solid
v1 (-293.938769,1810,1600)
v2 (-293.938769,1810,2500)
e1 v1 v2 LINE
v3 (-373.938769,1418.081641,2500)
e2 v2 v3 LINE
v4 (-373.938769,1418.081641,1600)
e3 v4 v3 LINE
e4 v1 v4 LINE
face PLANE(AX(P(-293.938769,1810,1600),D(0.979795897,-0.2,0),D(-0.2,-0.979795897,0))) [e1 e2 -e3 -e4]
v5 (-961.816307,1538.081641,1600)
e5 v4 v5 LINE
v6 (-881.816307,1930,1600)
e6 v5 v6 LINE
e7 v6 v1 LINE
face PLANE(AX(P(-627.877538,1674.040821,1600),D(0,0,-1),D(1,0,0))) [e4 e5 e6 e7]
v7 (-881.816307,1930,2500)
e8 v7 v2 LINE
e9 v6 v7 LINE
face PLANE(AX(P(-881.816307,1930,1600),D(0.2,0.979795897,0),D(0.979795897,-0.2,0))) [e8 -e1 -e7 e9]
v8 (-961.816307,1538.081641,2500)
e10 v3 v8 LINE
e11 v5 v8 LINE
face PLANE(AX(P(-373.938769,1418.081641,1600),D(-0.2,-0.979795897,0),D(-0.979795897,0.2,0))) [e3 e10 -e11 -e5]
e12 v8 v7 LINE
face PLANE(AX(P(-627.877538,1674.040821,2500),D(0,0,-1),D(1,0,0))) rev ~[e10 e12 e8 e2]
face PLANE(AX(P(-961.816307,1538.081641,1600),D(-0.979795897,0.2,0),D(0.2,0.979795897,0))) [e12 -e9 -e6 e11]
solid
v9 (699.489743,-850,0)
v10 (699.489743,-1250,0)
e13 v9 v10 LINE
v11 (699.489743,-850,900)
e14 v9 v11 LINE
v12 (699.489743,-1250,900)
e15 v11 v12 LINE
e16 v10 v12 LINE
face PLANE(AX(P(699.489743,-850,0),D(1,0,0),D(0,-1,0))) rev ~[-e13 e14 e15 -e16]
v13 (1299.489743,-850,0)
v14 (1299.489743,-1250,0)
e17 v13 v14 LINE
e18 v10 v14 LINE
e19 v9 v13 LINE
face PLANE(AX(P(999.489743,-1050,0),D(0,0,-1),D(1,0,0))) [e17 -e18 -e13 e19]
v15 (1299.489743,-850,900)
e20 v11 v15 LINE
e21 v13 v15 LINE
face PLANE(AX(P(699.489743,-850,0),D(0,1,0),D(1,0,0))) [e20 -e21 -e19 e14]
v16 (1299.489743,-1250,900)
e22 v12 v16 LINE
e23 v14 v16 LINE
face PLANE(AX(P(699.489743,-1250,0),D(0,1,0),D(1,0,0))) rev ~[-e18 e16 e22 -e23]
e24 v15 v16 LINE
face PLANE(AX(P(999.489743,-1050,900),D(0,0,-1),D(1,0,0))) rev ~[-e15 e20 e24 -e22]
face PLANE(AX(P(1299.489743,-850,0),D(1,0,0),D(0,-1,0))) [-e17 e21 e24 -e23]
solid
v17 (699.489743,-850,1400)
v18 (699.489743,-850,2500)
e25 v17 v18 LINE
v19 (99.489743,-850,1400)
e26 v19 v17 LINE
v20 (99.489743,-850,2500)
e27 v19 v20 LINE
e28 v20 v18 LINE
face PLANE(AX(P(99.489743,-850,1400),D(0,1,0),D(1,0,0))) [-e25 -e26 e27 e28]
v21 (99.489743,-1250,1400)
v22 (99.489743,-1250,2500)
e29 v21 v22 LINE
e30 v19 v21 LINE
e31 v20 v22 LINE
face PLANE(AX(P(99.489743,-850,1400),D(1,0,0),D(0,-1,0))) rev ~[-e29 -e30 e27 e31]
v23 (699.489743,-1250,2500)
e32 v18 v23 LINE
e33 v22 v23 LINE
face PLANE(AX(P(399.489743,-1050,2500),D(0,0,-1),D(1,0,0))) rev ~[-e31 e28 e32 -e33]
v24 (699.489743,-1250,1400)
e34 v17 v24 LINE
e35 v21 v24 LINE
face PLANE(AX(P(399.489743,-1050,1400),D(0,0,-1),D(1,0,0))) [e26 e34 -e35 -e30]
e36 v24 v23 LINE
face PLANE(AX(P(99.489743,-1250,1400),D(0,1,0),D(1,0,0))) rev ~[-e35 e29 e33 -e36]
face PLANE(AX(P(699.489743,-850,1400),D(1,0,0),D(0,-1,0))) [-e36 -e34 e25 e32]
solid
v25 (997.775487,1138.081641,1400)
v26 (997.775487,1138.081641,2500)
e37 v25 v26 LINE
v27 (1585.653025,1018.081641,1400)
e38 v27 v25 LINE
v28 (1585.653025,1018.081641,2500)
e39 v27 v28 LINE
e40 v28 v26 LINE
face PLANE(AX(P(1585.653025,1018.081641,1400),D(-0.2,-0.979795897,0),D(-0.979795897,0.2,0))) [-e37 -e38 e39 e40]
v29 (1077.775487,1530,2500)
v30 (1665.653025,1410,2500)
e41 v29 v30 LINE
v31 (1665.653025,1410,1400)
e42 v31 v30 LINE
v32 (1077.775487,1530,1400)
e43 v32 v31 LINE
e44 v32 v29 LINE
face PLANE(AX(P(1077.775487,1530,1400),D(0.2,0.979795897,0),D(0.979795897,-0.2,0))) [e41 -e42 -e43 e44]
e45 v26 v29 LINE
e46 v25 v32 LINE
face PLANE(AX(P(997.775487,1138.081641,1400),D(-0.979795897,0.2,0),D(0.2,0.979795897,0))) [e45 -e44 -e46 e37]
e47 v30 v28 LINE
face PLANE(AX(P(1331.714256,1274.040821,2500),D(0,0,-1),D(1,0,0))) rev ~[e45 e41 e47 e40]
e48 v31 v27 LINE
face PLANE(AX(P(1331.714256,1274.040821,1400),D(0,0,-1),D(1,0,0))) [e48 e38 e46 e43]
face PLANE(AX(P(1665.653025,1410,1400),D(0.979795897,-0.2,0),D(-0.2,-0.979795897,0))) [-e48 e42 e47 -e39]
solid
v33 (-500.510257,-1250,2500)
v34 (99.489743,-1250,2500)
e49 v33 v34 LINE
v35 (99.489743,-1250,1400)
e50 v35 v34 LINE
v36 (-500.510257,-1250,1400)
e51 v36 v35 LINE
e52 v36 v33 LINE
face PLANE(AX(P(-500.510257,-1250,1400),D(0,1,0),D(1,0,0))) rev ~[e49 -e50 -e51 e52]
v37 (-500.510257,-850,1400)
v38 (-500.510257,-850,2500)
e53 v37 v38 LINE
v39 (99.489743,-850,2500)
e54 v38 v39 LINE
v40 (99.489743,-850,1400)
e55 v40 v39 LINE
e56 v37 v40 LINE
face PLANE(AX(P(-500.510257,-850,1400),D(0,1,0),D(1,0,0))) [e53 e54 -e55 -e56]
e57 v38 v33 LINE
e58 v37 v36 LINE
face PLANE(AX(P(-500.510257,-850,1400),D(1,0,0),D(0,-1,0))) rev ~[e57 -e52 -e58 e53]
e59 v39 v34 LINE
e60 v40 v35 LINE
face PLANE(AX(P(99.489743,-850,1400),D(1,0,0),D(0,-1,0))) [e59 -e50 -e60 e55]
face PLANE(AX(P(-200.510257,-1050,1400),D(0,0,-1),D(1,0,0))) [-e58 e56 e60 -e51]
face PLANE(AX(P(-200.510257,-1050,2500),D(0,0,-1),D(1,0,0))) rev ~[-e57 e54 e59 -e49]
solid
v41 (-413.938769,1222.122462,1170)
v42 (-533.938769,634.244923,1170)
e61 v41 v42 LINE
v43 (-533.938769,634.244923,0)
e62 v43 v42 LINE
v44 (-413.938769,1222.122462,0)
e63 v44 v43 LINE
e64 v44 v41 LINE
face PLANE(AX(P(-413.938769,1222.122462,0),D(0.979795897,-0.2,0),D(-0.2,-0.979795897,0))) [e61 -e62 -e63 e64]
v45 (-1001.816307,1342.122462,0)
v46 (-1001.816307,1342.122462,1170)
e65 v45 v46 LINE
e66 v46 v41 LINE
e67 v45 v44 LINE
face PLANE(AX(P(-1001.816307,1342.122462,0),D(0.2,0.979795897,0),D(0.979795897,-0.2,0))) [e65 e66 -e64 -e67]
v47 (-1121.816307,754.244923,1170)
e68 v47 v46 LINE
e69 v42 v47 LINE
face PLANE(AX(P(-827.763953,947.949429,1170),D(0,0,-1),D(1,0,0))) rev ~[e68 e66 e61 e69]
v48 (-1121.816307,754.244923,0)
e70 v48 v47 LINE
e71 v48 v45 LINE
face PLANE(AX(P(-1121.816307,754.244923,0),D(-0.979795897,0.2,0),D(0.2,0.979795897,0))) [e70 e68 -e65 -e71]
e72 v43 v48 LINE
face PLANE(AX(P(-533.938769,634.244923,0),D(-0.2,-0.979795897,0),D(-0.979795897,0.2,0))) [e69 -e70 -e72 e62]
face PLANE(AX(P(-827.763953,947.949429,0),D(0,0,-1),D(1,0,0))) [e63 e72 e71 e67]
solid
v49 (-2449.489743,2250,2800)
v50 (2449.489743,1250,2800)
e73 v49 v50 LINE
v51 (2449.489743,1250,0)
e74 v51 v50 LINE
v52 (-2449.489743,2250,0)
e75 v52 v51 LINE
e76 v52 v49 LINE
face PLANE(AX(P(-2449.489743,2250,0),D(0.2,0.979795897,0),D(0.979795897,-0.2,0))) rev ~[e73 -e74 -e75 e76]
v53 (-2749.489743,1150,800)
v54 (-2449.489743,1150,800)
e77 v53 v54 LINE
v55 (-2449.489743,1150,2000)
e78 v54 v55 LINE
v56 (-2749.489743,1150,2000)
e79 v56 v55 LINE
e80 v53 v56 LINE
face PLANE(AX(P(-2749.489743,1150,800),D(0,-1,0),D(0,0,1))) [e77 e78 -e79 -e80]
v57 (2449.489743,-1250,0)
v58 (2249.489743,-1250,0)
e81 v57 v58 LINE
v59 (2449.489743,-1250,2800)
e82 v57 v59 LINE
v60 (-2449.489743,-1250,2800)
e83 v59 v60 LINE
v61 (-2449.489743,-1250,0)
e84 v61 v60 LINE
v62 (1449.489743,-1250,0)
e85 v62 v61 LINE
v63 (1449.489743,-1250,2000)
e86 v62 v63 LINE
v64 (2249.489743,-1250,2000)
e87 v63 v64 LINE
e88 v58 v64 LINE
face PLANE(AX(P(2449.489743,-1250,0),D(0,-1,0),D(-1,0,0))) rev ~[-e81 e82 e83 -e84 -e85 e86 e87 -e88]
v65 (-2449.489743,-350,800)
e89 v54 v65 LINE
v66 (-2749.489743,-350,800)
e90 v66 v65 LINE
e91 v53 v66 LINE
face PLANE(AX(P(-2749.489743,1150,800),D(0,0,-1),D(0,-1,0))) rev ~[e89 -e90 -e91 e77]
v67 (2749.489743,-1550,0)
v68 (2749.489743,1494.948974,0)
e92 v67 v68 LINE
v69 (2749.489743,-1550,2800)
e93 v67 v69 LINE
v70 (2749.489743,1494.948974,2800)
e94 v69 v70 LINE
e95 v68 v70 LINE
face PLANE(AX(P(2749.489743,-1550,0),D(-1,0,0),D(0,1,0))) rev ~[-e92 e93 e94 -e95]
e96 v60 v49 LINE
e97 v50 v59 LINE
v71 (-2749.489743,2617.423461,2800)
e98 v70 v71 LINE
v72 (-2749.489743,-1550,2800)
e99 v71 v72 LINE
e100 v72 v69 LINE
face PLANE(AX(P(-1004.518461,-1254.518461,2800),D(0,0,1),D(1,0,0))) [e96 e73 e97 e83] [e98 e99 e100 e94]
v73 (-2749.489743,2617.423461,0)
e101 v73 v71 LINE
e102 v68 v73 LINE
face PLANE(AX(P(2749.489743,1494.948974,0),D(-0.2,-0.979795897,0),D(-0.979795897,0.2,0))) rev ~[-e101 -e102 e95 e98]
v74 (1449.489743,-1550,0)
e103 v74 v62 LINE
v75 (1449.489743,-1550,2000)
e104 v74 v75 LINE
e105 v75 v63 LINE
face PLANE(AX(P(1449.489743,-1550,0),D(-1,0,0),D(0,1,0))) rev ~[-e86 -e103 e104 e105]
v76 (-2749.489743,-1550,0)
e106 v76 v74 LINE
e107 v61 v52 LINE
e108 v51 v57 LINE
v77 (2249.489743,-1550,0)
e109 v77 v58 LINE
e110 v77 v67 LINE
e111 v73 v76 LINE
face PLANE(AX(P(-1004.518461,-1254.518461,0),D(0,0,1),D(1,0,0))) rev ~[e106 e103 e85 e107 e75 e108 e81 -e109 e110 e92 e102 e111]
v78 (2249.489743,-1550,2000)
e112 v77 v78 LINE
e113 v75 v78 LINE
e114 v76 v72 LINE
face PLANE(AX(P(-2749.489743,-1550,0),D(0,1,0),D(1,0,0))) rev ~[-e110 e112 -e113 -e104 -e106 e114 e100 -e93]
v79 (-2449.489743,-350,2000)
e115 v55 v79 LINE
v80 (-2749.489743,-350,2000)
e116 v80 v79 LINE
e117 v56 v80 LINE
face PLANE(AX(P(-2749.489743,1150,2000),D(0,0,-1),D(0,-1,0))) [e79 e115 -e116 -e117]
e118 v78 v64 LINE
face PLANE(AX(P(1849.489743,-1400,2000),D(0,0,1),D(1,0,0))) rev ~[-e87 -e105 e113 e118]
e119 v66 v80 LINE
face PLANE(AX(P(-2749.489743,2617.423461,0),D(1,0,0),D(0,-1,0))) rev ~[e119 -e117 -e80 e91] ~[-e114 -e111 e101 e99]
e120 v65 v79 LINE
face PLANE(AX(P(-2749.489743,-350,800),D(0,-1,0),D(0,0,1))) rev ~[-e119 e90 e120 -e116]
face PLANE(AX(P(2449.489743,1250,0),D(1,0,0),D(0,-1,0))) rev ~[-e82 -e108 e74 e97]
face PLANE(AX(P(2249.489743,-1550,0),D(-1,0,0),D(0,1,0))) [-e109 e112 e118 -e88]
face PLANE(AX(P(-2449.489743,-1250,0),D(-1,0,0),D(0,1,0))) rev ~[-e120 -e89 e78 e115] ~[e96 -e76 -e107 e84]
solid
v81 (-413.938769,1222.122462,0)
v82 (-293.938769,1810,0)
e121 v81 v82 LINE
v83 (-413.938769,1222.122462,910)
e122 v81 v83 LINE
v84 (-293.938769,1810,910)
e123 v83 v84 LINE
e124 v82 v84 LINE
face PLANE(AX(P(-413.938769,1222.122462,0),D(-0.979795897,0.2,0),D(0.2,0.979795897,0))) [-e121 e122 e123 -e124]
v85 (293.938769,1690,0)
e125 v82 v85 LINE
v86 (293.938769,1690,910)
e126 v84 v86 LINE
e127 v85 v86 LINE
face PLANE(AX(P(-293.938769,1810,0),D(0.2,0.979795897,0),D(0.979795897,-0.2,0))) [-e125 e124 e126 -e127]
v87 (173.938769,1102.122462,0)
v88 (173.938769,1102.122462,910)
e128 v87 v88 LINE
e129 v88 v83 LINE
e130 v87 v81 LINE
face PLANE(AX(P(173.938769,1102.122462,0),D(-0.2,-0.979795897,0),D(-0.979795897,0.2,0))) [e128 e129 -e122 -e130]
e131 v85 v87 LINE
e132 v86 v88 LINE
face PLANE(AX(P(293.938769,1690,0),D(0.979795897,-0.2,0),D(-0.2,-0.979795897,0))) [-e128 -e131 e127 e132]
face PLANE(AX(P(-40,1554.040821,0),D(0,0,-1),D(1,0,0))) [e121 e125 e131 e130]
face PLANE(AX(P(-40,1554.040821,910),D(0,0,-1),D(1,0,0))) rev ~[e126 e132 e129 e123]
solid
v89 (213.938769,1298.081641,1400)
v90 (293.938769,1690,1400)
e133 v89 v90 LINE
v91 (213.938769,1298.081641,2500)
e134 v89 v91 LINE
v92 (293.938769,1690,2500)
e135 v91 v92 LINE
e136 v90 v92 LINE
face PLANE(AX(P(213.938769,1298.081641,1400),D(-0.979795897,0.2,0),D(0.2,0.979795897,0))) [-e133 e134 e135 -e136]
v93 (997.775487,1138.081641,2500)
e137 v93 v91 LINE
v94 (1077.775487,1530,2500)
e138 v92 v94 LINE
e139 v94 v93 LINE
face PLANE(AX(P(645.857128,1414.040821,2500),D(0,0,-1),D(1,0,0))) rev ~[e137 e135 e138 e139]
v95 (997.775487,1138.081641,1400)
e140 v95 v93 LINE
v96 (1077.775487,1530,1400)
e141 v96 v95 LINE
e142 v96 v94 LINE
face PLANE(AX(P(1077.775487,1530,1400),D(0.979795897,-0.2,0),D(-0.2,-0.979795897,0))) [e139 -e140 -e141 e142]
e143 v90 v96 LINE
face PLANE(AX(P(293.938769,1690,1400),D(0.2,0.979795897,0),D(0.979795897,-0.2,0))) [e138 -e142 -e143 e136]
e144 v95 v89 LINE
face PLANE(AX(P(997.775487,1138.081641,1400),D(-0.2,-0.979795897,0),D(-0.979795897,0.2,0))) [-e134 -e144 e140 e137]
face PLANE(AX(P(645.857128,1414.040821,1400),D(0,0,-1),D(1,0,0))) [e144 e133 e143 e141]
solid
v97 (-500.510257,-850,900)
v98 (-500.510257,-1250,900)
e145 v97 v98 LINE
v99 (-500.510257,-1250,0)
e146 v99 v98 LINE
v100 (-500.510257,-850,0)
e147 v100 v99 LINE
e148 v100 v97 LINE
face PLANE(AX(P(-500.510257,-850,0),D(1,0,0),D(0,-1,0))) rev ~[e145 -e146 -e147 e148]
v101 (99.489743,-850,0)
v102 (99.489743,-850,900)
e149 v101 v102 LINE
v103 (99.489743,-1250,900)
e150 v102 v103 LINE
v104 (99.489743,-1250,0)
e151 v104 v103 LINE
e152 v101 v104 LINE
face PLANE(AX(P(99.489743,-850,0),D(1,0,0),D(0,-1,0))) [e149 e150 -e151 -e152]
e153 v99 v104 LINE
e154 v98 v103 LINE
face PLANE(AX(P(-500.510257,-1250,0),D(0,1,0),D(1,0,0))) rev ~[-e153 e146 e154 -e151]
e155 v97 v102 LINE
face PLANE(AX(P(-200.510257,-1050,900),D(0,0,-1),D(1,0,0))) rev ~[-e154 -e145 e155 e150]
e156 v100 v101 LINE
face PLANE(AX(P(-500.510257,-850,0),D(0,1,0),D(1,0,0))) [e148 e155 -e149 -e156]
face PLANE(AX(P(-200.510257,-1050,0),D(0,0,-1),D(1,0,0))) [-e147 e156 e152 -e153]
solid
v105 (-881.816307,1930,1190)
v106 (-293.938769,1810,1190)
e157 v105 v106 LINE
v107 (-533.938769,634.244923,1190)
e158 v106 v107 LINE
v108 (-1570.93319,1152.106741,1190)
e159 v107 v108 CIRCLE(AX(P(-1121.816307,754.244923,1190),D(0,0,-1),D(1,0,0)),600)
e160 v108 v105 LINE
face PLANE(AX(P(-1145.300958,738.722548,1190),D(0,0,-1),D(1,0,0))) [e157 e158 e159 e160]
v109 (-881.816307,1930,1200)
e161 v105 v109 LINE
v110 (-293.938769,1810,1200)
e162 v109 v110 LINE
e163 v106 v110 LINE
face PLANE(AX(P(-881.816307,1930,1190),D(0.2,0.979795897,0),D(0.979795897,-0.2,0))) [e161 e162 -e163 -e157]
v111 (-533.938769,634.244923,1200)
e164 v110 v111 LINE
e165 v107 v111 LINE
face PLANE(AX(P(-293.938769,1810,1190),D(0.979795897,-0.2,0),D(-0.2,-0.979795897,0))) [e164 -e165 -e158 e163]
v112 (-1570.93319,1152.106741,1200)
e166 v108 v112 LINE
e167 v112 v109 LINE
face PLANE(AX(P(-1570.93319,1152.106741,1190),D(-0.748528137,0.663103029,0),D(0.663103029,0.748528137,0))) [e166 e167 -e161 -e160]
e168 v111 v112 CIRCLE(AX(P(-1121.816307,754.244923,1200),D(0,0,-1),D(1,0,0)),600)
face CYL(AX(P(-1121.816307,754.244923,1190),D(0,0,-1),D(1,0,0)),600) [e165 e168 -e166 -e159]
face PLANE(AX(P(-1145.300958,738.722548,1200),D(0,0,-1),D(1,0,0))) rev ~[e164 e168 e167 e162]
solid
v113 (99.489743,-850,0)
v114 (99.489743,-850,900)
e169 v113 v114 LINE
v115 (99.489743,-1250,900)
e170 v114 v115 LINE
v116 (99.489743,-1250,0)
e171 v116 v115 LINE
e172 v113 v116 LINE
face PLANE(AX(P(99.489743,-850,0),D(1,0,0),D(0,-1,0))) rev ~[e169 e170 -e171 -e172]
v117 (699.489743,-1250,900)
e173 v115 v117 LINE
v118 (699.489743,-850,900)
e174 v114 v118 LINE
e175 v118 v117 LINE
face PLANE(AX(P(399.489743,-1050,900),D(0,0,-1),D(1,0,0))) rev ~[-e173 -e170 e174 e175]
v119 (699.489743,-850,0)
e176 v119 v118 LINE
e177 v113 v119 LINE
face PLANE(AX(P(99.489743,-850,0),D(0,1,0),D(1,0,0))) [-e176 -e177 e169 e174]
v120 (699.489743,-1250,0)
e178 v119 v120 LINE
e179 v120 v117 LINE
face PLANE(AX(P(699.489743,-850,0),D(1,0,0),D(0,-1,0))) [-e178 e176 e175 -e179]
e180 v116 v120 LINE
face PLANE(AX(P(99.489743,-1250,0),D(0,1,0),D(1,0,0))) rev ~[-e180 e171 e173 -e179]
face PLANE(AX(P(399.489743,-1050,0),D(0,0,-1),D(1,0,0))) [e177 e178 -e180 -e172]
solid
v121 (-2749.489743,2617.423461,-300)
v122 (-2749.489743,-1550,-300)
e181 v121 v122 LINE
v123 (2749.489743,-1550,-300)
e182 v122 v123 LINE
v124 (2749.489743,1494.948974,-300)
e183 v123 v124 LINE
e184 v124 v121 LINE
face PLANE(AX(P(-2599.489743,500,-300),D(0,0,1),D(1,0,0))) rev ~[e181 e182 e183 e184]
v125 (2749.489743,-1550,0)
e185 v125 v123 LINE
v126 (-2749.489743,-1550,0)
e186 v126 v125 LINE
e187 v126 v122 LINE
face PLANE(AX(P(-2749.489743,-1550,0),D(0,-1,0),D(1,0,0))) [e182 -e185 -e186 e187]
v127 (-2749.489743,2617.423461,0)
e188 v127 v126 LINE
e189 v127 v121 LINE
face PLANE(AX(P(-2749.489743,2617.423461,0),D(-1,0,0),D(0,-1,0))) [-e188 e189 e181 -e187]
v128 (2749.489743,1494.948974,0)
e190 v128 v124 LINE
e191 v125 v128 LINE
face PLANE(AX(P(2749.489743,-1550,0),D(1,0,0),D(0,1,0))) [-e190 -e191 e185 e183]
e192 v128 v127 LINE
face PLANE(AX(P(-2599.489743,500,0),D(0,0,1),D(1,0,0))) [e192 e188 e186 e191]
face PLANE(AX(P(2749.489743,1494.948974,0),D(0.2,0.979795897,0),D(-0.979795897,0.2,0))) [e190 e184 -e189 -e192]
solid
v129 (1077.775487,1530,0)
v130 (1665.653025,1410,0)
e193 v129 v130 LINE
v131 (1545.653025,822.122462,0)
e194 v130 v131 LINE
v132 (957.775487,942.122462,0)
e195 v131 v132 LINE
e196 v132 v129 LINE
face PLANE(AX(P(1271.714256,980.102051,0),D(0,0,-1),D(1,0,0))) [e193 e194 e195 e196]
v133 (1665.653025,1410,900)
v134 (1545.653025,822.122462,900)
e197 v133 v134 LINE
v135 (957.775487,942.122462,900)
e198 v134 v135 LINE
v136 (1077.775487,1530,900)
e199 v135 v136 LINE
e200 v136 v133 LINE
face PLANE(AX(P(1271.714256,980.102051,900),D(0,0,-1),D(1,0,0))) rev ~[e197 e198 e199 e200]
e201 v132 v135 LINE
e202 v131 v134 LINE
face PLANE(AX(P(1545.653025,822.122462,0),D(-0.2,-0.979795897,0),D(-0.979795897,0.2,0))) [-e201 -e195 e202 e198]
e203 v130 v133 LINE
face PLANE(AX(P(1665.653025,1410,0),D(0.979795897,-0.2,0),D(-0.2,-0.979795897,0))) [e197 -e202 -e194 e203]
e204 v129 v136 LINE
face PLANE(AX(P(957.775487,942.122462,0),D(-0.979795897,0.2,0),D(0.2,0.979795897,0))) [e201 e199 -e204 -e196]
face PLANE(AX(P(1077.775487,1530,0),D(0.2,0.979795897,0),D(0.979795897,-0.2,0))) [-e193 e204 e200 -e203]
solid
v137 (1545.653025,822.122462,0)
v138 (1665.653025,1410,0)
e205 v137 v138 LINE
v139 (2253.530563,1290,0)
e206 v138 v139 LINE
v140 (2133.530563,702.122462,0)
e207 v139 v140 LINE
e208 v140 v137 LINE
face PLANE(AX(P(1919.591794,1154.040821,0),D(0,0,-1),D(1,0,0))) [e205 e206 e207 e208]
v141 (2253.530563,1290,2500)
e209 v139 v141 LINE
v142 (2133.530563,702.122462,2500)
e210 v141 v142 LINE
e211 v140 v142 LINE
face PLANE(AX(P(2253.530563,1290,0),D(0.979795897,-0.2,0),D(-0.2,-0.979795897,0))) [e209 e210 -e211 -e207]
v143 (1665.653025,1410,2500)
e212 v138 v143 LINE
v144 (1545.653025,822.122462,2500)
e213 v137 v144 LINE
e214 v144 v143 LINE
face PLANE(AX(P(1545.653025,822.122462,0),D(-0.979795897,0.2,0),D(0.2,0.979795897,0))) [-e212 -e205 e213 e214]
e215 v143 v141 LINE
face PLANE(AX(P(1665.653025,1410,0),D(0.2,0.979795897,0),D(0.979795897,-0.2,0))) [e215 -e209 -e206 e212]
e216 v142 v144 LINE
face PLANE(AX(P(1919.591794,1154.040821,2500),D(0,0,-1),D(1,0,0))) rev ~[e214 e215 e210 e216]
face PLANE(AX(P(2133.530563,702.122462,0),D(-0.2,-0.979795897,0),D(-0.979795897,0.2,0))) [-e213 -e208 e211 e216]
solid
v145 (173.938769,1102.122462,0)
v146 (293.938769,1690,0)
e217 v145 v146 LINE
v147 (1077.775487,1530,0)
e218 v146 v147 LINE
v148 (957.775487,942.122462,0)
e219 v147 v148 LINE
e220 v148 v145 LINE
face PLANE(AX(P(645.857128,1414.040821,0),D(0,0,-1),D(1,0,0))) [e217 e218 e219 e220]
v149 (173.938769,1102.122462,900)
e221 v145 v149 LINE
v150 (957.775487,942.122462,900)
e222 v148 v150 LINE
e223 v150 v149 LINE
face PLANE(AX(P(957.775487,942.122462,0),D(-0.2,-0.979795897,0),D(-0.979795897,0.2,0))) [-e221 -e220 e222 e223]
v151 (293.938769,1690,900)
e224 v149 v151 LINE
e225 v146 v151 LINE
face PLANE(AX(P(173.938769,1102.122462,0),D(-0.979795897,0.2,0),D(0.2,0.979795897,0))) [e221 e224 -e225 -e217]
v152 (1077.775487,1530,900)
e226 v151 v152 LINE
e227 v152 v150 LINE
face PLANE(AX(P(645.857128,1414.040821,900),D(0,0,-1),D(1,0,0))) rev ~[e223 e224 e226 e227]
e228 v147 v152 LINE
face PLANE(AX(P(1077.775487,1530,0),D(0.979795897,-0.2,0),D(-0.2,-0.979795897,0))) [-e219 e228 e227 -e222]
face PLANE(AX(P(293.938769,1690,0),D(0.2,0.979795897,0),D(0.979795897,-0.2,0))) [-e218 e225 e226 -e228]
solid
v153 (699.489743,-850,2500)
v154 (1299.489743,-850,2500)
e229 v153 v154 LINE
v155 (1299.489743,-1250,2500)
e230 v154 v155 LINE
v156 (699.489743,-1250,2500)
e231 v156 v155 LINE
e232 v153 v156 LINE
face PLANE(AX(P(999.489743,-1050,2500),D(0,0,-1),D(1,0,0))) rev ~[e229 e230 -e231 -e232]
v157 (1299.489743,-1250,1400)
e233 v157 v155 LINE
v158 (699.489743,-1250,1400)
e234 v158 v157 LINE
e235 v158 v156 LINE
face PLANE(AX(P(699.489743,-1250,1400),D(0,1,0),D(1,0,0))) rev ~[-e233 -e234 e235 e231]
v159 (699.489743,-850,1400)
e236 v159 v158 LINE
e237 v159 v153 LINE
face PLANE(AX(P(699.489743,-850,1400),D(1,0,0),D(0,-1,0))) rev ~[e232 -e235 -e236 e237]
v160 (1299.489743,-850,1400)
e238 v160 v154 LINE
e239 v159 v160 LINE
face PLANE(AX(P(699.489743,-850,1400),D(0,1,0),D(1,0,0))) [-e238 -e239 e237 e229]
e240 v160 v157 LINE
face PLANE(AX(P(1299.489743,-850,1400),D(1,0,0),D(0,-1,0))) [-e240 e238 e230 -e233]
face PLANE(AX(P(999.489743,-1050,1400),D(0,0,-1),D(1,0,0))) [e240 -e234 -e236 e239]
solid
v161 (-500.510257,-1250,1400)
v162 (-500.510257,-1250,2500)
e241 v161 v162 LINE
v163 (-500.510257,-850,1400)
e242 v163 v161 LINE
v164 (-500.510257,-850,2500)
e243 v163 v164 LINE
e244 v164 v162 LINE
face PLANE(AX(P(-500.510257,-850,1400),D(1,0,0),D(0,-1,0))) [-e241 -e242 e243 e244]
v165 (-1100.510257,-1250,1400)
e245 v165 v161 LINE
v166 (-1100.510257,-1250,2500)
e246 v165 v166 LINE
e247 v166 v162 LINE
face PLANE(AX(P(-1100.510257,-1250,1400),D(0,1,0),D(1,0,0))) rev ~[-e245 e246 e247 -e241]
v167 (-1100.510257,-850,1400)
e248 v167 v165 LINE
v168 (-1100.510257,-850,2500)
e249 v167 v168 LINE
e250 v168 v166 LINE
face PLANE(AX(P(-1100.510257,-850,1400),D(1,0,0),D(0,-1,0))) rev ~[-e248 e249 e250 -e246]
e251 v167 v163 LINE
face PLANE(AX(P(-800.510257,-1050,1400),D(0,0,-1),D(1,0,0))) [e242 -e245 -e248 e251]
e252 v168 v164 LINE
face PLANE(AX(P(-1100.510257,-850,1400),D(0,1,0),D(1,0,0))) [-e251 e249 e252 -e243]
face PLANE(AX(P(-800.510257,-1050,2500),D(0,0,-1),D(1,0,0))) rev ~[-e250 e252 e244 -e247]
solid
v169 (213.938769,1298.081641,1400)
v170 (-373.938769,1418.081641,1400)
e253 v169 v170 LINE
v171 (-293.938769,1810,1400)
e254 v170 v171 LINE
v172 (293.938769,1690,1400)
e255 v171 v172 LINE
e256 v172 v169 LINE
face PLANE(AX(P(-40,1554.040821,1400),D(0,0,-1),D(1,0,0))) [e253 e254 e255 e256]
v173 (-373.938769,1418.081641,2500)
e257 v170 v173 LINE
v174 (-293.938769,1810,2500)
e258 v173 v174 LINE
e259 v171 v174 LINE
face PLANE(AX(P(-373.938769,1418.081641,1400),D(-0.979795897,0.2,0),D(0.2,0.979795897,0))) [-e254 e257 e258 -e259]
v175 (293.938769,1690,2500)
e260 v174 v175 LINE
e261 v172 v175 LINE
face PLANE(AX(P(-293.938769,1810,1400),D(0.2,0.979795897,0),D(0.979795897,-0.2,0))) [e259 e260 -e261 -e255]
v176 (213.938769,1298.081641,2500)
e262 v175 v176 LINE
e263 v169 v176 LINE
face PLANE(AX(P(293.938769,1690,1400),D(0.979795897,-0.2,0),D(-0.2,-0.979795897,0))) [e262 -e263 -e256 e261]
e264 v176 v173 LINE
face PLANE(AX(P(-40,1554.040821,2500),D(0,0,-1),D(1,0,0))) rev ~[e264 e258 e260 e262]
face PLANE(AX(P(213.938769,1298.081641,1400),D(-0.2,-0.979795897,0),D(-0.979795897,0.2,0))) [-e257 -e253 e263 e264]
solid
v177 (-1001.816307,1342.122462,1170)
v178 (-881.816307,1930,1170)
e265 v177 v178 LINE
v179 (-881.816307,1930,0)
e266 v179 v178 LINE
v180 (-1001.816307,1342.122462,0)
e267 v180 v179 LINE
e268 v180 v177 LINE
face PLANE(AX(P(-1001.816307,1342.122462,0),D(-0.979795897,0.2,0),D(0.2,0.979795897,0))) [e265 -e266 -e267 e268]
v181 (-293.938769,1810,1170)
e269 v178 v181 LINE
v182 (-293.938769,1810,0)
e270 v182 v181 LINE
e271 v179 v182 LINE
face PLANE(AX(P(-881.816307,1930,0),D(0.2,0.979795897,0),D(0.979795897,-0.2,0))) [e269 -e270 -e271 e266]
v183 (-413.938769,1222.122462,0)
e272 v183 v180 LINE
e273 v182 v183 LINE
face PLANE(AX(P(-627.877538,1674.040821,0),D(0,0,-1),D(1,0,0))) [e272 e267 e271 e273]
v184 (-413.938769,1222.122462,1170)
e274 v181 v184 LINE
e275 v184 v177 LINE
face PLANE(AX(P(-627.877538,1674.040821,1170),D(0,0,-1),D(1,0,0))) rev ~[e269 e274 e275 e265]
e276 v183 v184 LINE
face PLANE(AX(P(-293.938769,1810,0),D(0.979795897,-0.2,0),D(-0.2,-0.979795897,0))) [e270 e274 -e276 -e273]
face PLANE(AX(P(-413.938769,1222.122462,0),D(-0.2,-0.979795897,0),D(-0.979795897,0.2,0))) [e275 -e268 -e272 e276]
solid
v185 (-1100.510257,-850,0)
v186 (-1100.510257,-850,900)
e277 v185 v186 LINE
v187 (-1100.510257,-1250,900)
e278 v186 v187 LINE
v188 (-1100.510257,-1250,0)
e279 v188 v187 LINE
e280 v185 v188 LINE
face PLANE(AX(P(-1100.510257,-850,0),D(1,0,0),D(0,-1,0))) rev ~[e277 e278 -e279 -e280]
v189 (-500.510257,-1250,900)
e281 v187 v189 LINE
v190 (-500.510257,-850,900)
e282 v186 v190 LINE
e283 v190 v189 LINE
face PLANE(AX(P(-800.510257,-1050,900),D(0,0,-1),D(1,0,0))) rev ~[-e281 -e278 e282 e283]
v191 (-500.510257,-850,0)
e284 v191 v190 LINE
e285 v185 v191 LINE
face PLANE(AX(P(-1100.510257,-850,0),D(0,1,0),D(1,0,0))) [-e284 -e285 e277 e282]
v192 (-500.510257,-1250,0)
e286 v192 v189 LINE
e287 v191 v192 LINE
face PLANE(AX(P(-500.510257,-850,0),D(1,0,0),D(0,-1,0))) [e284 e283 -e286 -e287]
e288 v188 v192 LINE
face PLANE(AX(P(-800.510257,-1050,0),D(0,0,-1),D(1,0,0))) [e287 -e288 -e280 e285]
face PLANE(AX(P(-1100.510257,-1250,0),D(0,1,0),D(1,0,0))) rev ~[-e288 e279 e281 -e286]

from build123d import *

# Parameters (mm, degrees)
F0_W      = 300
F0_H      = 1500
F0_W_2    = 800
F0_H_2    = 300
F1_DEPTH  = 300
F2_DEPTH  = 2800
F3_DEPTH  = 2000
F4_W      = 1500
F4_H      = 1200
F5_DEPTH  = 300
F7_DEPTH  = 2500
F8_DEPTH  = 1170
F6_W      = 600
F6_H      = 400
F9_DEPTH  = 900
F10_DEPTH = 900
F11_DEPTH = 900
F12_DEPTH = 900
F13_START = -1400
F13_DEPTH = 1100
F14_START = -1400
F14_DEPTH = 1100
F15_START = -1400
F15_DEPTH = 1100
F16_START = -1400
F16_DEPTH = 1100
F17_DEPTH = 900
F18_DEPTH = 900
F19_DEPTH = 910
F20_DEPTH = 1170
F21_START = -1190
F21_DEPTH = 10
F22_START = -1400
F22_DEPTH = 1100
F23_START = -1400
F23_DEPTH = 1100
F24_START = -1400
F24_DEPTH = 1100
F25_START = -1600
F25_DEPTH = 900


with BuildPart() as f1:
    # F0 (on Top) → F1 (new body)
    with BuildSketch(Plane.XY):
        with Locations((-2599.4897427832, 500)):
            Rectangle(F0_W, F0_H)
        Polygon((-2449.4897427832, -250), (-2449.4897427832, -1250), (1449.4897427832, -1250), (2249.4897427832, -1250), (2449.4897427832, -1250), (2449.4897427832, 1250), (-2449.4897427832, 2250), (-2449.4897427832, 1250), align=None)
        Polygon((2449.4897427832, -1250), (2249.4897427832, -1250), (2249.4897427832, -1550), (2749.4897427832, -1550), (2749.4897427832, 1494.9489742783), (-2749.4897427832, 2617.4234614175), (-2749.4897427832, 1250), (-2449.4897427832, 1250), (-2449.4897427832, 2250), (2449.4897427832, 1250), align=None)
        with Locations((1849.4897427832, -1400)):
            Rectangle(F0_W_2, F0_H_2)
        Polygon((1449.4897427832, -1250), (-2449.4897427832, -1250), (-2449.4897427832, -250), (-2749.4897427832, -250), (-2749.4897427832, -1550), (1449.4897427832, -1550), align=None)
    extrude(amount=-F1_DEPTH)


with BuildPart() as f2:
    # F0 (on Top) → F2 (new body)
    with BuildSketch(Plane.XY):
        Polygon((1449.4897427832, -1250), (-2449.4897427832, -1250), (-2449.4897427832, -250), (-2749.4897427832, -250), (-2749.4897427832, -1550), (1449.4897427832, -1550), align=None)
        with Locations((-2599.4897427832, 500)):
            Rectangle(F0_W, F0_H)
        Polygon((2449.4897427832, -1250), (2249.4897427832, -1250), (2249.4897427832, -1550), (2749.4897427832, -1550), (2749.4897427832, 1494.9489742783), (-2749.4897427832, 2617.4234614175), (-2749.4897427832, 1250), (-2449.4897427832, 1250), (-2449.4897427832, 2250), (2449.4897427832, 1250), align=None)
        with Locations((1849.4897427832, -1400)):
            Rectangle(F0_W_2, F0_H_2)
    extrude(amount=F2_DEPTH)

    # F0 (on Top) → F3 (cut)
    with BuildSketch(Plane.XY):
        with Locations((1849.4897427832, -1400)):
            Rectangle(F0_W_2, F0_H_2)
    extrude(amount=F3_DEPTH, mode=Mode.SUBTRACT)

    # F4 (on face) → F5 (cut, through all)
    with BuildSketch(Plane(origin=(-2749.4897427832, 0, 0), x_dir=(0, -1, 0), z_dir=(-1, 0, 0))):
        with Locations((-400, 1400)):
            Rectangle(F4_W, F4_H)
    extrude(amount=-F5_DEPTH, mode=Mode.SUBTRACT)


with BuildPart() as f7:
    # F6 (on face) → F7 (new body)
    with BuildSketch(Plane(origin=(0, 0, 0), x_dir=(1, 0, 0), z_dir=(0, 0, -1))):
        Polygon((1665.6530250926, -1410), (2253.5305633605, -1290), (2173.5305633605, -898.0816411547), (1585.6530250926, -1018.0816411547), align=None)
        Polygon((1585.6530250926, -1018.0816411547), (2173.5305633605, -898.0816411547), (2133.5305633605, -702.122461732), (1545.6530250926, -822.122461732), align=None)
    extrude(amount=-F7_DEPTH)


with BuildPart() as f8:
    # F6 (on face) → F8 (new body)
    with BuildSketch(Plane(origin=(0, 0, 0), x_dir=(1, 0, 0), z_dir=(0, 0, -1))):
        with BuildLine():
            Line((-1121.8163074019, -754.2449234641), (-1001.8163074019, -1342.122461732))
            ThreePointArc((-1001.8163074019, -1342.122461732), (-657.0583058571, -1133.7182426843), (-521.8163074019, -754.2449234641))
            ThreePointArc((-521.8163074019, -754.2449234641), (-524.8546155989, -693.939546261), (-533.938769134, -634.2449234641))
            Line((-533.938769134, -634.2449234641), (-1121.8163074019, -754.2449234641))
        make_face()
        with BuildLine():
            Line((-1001.8163074019, -1342.122461732), (-413.938769134, -1222.122461732))
            Line((-413.938769134, -1222.122461732), (-533.938769134, -634.2449234641))
            ThreePointArc((-533.938769134, -634.2449234641), (-524.8546155989, -693.939546261), (-521.8163074019, -754.2449234641))
            ThreePointArc((-521.8163074019, -754.2449234641), (-657.0583058571, -1133.7182426843), (-1001.8163074019, -1342.122461732))
        make_face()
    extrude(amount=-F8_DEPTH)


with BuildPart() as f9:
    # F6 (on face) → F9 (new body)
    with BuildSketch(Plane(origin=(0, 0, 0), x_dir=(1, 0, 0), z_dir=(0, 0, -1))):
        with Locations((999.4897427832, 1050)):
            Rectangle(F6_W, F6_H)
    extrude(amount=-F9_DEPTH)


with BuildPart() as f10:
    # F6 (on face) → F10 (new body)
    with BuildSketch(Plane(origin=(0, 0, 0), x_dir=(1, 0, 0), z_dir=(0, 0, -1))):
        with Locations((399.4897427832, 1050)):
            Rectangle(F6_W, F6_H)
    extrude(amount=-F10_DEPTH)


with BuildPart() as f11:
    # F6 (on face) → F11 (new body)
    with BuildSketch(Plane(origin=(0, 0, 0), x_dir=(1, 0, 0), z_dir=(0, 0, -1))):
        with Locations((-200.5102572168, 1050)):
            Rectangle(F6_W, F6_H)
    extrude(amount=-F11_DEPTH)


with BuildPart() as f12:
    # F6 (on face) → F12 (new body)
    with BuildSketch(Plane(origin=(0, 0, 0), x_dir=(1, 0, 0), z_dir=(0, 0, -1))):
        with Locations((-800.5102572168, 1050)):
            Rectangle(F6_W, F6_H)
    extrude(amount=-F12_DEPTH)


with BuildPart() as f13:
    # F6 (on face) → F13 (new body)
    with BuildSketch(Plane(origin=(0, 0, 0), x_dir=(1, 0, 0), z_dir=(0, 0, -1)).offset(F13_START)):
        with Locations((999.4897427832, 1050)):
            Rectangle(F6_W, F6_H)
    extrude(amount=-F13_DEPTH)


with BuildPart() as f14:
    # F6 (on face) → F14 (new body)
    with BuildSketch(Plane(origin=(0, 0, 0), x_dir=(1, 0, 0), z_dir=(0, 0, -1)).offset(F14_START)):
        with Locations((399.4897427832, 1050)):
            Rectangle(F6_W, F6_H)
    extrude(amount=-F14_DEPTH)


with BuildPart() as f15:
    # F6 (on face) → F15 (new body)
    with BuildSketch(Plane(origin=(0, 0, 0), x_dir=(1, 0, 0), z_dir=(0, 0, -1)).offset(F15_START)):
        with Locations((-200.5102572168, 1050)):
            Rectangle(F6_W, F6_H)
    extrude(amount=-F15_DEPTH)


with BuildPart() as f16:
    # F6 (on face) → F16 (new body)
    with BuildSketch(Plane(origin=(0, 0, 0), x_dir=(1, 0, 0), z_dir=(0, 0, -1)).offset(F16_START)):
        with Locations((-800.5102572168, 1050)):
            Rectangle(F6_W, F6_H)
    extrude(amount=-F16_DEPTH)


with BuildPart() as f17:
    # F6 (on face) → F17 (new body)
    with BuildSketch(Plane(origin=(0, 0, 0), x_dir=(1, 0, 0), z_dir=(0, 0, -1))):
        Polygon((997.7754868246, -1138.0816411547), (1585.6530250926, -1018.0816411547), (1545.6530250926, -822.122461732), (957.7754868246, -942.122461732), align=None)
        Polygon((1077.7754868246, -1530), (1665.6530250926, -1410), (1585.6530250926, -1018.0816411547), (997.7754868246, -1138.0816411547), align=None)
    extrude(amount=-F17_DEPTH)


with BuildPart() as f18:
    # F6 (on face) → F18 (new body)
    with BuildSketch(Plane(origin=(0, 0, 0), x_dir=(1, 0, 0), z_dir=(0, 0, -1))):
        Polygon((293.938769134, -1690), (1077.7754868246, -1530), (997.7754868246, -1138.0816411547), (213.938769134, -1298.0816411547), align=None)
        Polygon((213.938769134, -1298.0816411547), (997.7754868246, -1138.0816411547), (957.7754868246, -942.122461732), (173.938769134, -1102.122461732), align=None)
    extrude(amount=-F18_DEPTH)


with BuildPart() as f19:
    # F6 (on face) → F19 (new body)
    with BuildSketch(Plane(origin=(0, 0, 0), x_dir=(1, 0, 0), z_dir=(0, 0, -1))):
        Polygon((-293.938769134, -1810), (293.938769134, -1690), (213.938769134, -1298.0816411547), (-373.938769134, -1418.0816411547), align=None)
        Polygon((-373.938769134, -1418.0816411547), (213.938769134, -1298.0816411547), (173.938769134, -1102.122461732), (-413.938769134, -1222.122461732), align=None)
    extrude(amount=-F19_DEPTH)


with BuildPart() as f20:
    # F6 (on face) → F20 (new body, through all)
    with BuildSketch(Plane(origin=(0, 0, 0), x_dir=(1, 0, 0), z_dir=(0, 0, -1))):
        Polygon((-881.8163074019, -1930), (-293.938769134, -1810), (-373.938769134, -1418.0816411547), (-961.8163074019, -1538.0816411547), align=None)
        Polygon((-961.8163074019, -1538.0816411547), (-373.938769134, -1418.0816411547), (-413.938769134, -1222.122461732), (-1001.8163074019, -1342.122461732), align=None)
    extrude(amount=-F20_DEPTH)


with BuildPart() as f21:
    # F6 (on face) → F21 (new body)
    with BuildSketch(Plane(origin=(0, 0, 0), x_dir=(1, 0, 0), z_dir=(0, 0, -1)).offset(F21_START)):
        with BuildLine():
            ThreePointArc((-1570.9331898563, -1152.1067410522), (-1311.8320280818, -1323.3618059184), (-1001.8163074019, -1342.122461732))
            Line((-1001.8163074019, -1342.122461732), (-1121.8163074019, -754.2449234641))
            Line((-1121.8163074019, -754.2449234641), (-533.938769134, -634.2449234641))
            ThreePointArc((-533.938769134, -634.2449234641), (-1389.8813096484, -217.4571119681), (-1570.9331898563, -1152.1067410522))
        make_face()
        with BuildLine():
            Line((-1121.8163074019, -754.2449234641), (-1001.8163074019, -1342.122461732))
            ThreePointArc((-1001.8163074019, -1342.122461732), (-657.0583058571, -1133.7182426843), (-521.8163074019, -754.2449234641))
            ThreePointArc((-521.8163074019, -754.2449234641), (-524.8546155989, -693.939546261), (-533.938769134, -634.2449234641))
            Line((-533.938769134, -634.2449234641), (-1121.8163074019, -754.2449234641))
        make_face()
        with BuildLine():
            Line((-1001.8163074019, -1342.122461732), (-413.938769134, -1222.122461732))
            Line((-413.938769134, -1222.122461732), (-533.938769134, -634.2449234641))
            ThreePointArc((-533.938769134, -634.2449234641), (-524.8546155989, -693.939546261), (-521.8163074019, -754.2449234641))
            ThreePointArc((-521.8163074019, -754.2449234641), (-657.0583058571, -1133.7182426843), (-1001.8163074019, -1342.122461732))
        make_face()
        Polygon((-961.8163074019, -1538.0816411547), (-373.938769134, -1418.0816411547), (-413.938769134, -1222.122461732), (-1001.8163074019, -1342.122461732), align=None)
        Polygon((-881.8163074019, -1930), (-293.938769134, -1810), (-373.938769134, -1418.0816411547), (-961.8163074019, -1538.0816411547), align=None)
        with BuildLine():
            Line((-1188.0904773816, -1584.2696626899), (-961.8163074019, -1538.0816411547))
            Line((-961.8163074019, -1538.0816411547), (-1001.8163074019, -1342.122461732))
            ThreePointArc((-1001.8163074019, -1342.122461732), (-1311.8320280818, -1323.3618059184), (-1570.9331898563, -1152.1067410522))
            Line((-1570.9331898563, -1152.1067410522), (-1188.0904773816, -1584.2696626899))
        make_face()
        Polygon((-1188.0904773816, -1584.2696626899), (-881.8163074019, -1930), (-961.8163074019, -1538.0816411547), align=None)
    extrude(amount=-F21_DEPTH)


with BuildPart() as f22:
    # F6 (on face) → F22 (new body)
    with BuildSketch(Plane(origin=(0, 0, 0), x_dir=(1, 0, 0), z_dir=(0, 0, -1)).offset(F22_START)):
        Polygon((1077.7754868246, -1530), (1665.6530250926, -1410), (1585.6530250926, -1018.0816411547), (997.7754868246, -1138.0816411547), align=None)
    extrude(amount=-F22_DEPTH)


with BuildPart() as f23:
    # F6 (on face) → F23 (new body)
    with BuildSketch(Plane(origin=(0, 0, 0), x_dir=(1, 0, 0), z_dir=(0, 0, -1)).offset(F23_START)):
        Polygon((293.938769134, -1690), (1077.7754868246, -1530), (997.7754868246, -1138.0816411547), (213.938769134, -1298.0816411547), align=None)
    extrude(amount=-F23_DEPTH)


with BuildPart() as f24:
    # F6 (on face) → F24 (new body)
    with BuildSketch(Plane(origin=(0, 0, 0), x_dir=(1, 0, 0), z_dir=(0, 0, -1)).offset(F24_START)):
        Polygon((-293.938769134, -1810), (293.938769134, -1690), (213.938769134, -1298.0816411547), (-373.938769134, -1418.0816411547), align=None)
    extrude(amount=-F24_DEPTH)


with BuildPart() as f25:
    # F6 (on face) → F25 (new body)
    with BuildSketch(Plane(origin=(0, 0, 0), x_dir=(1, 0, 0), z_dir=(0, 0, -1)).offset(F25_START)):
        Polygon((-881.8163074019, -1930), (-293.938769134, -1810), (-373.938769134, -1418.0816411547), (-961.8163074019, -1538.0816411547), align=None)
    extrude(amount=-F25_DEPTH)


solid = Compound([f1.part, f2.part, f7.part, f8.part, f9.part, f10.part, f11.part, f12.part, f13.part, f14.part, f15.part, f16.part, f17.part, f18.part, f19.part, f20.part, f21.part, f22.part, f23.part, f24.part, f25.part])
